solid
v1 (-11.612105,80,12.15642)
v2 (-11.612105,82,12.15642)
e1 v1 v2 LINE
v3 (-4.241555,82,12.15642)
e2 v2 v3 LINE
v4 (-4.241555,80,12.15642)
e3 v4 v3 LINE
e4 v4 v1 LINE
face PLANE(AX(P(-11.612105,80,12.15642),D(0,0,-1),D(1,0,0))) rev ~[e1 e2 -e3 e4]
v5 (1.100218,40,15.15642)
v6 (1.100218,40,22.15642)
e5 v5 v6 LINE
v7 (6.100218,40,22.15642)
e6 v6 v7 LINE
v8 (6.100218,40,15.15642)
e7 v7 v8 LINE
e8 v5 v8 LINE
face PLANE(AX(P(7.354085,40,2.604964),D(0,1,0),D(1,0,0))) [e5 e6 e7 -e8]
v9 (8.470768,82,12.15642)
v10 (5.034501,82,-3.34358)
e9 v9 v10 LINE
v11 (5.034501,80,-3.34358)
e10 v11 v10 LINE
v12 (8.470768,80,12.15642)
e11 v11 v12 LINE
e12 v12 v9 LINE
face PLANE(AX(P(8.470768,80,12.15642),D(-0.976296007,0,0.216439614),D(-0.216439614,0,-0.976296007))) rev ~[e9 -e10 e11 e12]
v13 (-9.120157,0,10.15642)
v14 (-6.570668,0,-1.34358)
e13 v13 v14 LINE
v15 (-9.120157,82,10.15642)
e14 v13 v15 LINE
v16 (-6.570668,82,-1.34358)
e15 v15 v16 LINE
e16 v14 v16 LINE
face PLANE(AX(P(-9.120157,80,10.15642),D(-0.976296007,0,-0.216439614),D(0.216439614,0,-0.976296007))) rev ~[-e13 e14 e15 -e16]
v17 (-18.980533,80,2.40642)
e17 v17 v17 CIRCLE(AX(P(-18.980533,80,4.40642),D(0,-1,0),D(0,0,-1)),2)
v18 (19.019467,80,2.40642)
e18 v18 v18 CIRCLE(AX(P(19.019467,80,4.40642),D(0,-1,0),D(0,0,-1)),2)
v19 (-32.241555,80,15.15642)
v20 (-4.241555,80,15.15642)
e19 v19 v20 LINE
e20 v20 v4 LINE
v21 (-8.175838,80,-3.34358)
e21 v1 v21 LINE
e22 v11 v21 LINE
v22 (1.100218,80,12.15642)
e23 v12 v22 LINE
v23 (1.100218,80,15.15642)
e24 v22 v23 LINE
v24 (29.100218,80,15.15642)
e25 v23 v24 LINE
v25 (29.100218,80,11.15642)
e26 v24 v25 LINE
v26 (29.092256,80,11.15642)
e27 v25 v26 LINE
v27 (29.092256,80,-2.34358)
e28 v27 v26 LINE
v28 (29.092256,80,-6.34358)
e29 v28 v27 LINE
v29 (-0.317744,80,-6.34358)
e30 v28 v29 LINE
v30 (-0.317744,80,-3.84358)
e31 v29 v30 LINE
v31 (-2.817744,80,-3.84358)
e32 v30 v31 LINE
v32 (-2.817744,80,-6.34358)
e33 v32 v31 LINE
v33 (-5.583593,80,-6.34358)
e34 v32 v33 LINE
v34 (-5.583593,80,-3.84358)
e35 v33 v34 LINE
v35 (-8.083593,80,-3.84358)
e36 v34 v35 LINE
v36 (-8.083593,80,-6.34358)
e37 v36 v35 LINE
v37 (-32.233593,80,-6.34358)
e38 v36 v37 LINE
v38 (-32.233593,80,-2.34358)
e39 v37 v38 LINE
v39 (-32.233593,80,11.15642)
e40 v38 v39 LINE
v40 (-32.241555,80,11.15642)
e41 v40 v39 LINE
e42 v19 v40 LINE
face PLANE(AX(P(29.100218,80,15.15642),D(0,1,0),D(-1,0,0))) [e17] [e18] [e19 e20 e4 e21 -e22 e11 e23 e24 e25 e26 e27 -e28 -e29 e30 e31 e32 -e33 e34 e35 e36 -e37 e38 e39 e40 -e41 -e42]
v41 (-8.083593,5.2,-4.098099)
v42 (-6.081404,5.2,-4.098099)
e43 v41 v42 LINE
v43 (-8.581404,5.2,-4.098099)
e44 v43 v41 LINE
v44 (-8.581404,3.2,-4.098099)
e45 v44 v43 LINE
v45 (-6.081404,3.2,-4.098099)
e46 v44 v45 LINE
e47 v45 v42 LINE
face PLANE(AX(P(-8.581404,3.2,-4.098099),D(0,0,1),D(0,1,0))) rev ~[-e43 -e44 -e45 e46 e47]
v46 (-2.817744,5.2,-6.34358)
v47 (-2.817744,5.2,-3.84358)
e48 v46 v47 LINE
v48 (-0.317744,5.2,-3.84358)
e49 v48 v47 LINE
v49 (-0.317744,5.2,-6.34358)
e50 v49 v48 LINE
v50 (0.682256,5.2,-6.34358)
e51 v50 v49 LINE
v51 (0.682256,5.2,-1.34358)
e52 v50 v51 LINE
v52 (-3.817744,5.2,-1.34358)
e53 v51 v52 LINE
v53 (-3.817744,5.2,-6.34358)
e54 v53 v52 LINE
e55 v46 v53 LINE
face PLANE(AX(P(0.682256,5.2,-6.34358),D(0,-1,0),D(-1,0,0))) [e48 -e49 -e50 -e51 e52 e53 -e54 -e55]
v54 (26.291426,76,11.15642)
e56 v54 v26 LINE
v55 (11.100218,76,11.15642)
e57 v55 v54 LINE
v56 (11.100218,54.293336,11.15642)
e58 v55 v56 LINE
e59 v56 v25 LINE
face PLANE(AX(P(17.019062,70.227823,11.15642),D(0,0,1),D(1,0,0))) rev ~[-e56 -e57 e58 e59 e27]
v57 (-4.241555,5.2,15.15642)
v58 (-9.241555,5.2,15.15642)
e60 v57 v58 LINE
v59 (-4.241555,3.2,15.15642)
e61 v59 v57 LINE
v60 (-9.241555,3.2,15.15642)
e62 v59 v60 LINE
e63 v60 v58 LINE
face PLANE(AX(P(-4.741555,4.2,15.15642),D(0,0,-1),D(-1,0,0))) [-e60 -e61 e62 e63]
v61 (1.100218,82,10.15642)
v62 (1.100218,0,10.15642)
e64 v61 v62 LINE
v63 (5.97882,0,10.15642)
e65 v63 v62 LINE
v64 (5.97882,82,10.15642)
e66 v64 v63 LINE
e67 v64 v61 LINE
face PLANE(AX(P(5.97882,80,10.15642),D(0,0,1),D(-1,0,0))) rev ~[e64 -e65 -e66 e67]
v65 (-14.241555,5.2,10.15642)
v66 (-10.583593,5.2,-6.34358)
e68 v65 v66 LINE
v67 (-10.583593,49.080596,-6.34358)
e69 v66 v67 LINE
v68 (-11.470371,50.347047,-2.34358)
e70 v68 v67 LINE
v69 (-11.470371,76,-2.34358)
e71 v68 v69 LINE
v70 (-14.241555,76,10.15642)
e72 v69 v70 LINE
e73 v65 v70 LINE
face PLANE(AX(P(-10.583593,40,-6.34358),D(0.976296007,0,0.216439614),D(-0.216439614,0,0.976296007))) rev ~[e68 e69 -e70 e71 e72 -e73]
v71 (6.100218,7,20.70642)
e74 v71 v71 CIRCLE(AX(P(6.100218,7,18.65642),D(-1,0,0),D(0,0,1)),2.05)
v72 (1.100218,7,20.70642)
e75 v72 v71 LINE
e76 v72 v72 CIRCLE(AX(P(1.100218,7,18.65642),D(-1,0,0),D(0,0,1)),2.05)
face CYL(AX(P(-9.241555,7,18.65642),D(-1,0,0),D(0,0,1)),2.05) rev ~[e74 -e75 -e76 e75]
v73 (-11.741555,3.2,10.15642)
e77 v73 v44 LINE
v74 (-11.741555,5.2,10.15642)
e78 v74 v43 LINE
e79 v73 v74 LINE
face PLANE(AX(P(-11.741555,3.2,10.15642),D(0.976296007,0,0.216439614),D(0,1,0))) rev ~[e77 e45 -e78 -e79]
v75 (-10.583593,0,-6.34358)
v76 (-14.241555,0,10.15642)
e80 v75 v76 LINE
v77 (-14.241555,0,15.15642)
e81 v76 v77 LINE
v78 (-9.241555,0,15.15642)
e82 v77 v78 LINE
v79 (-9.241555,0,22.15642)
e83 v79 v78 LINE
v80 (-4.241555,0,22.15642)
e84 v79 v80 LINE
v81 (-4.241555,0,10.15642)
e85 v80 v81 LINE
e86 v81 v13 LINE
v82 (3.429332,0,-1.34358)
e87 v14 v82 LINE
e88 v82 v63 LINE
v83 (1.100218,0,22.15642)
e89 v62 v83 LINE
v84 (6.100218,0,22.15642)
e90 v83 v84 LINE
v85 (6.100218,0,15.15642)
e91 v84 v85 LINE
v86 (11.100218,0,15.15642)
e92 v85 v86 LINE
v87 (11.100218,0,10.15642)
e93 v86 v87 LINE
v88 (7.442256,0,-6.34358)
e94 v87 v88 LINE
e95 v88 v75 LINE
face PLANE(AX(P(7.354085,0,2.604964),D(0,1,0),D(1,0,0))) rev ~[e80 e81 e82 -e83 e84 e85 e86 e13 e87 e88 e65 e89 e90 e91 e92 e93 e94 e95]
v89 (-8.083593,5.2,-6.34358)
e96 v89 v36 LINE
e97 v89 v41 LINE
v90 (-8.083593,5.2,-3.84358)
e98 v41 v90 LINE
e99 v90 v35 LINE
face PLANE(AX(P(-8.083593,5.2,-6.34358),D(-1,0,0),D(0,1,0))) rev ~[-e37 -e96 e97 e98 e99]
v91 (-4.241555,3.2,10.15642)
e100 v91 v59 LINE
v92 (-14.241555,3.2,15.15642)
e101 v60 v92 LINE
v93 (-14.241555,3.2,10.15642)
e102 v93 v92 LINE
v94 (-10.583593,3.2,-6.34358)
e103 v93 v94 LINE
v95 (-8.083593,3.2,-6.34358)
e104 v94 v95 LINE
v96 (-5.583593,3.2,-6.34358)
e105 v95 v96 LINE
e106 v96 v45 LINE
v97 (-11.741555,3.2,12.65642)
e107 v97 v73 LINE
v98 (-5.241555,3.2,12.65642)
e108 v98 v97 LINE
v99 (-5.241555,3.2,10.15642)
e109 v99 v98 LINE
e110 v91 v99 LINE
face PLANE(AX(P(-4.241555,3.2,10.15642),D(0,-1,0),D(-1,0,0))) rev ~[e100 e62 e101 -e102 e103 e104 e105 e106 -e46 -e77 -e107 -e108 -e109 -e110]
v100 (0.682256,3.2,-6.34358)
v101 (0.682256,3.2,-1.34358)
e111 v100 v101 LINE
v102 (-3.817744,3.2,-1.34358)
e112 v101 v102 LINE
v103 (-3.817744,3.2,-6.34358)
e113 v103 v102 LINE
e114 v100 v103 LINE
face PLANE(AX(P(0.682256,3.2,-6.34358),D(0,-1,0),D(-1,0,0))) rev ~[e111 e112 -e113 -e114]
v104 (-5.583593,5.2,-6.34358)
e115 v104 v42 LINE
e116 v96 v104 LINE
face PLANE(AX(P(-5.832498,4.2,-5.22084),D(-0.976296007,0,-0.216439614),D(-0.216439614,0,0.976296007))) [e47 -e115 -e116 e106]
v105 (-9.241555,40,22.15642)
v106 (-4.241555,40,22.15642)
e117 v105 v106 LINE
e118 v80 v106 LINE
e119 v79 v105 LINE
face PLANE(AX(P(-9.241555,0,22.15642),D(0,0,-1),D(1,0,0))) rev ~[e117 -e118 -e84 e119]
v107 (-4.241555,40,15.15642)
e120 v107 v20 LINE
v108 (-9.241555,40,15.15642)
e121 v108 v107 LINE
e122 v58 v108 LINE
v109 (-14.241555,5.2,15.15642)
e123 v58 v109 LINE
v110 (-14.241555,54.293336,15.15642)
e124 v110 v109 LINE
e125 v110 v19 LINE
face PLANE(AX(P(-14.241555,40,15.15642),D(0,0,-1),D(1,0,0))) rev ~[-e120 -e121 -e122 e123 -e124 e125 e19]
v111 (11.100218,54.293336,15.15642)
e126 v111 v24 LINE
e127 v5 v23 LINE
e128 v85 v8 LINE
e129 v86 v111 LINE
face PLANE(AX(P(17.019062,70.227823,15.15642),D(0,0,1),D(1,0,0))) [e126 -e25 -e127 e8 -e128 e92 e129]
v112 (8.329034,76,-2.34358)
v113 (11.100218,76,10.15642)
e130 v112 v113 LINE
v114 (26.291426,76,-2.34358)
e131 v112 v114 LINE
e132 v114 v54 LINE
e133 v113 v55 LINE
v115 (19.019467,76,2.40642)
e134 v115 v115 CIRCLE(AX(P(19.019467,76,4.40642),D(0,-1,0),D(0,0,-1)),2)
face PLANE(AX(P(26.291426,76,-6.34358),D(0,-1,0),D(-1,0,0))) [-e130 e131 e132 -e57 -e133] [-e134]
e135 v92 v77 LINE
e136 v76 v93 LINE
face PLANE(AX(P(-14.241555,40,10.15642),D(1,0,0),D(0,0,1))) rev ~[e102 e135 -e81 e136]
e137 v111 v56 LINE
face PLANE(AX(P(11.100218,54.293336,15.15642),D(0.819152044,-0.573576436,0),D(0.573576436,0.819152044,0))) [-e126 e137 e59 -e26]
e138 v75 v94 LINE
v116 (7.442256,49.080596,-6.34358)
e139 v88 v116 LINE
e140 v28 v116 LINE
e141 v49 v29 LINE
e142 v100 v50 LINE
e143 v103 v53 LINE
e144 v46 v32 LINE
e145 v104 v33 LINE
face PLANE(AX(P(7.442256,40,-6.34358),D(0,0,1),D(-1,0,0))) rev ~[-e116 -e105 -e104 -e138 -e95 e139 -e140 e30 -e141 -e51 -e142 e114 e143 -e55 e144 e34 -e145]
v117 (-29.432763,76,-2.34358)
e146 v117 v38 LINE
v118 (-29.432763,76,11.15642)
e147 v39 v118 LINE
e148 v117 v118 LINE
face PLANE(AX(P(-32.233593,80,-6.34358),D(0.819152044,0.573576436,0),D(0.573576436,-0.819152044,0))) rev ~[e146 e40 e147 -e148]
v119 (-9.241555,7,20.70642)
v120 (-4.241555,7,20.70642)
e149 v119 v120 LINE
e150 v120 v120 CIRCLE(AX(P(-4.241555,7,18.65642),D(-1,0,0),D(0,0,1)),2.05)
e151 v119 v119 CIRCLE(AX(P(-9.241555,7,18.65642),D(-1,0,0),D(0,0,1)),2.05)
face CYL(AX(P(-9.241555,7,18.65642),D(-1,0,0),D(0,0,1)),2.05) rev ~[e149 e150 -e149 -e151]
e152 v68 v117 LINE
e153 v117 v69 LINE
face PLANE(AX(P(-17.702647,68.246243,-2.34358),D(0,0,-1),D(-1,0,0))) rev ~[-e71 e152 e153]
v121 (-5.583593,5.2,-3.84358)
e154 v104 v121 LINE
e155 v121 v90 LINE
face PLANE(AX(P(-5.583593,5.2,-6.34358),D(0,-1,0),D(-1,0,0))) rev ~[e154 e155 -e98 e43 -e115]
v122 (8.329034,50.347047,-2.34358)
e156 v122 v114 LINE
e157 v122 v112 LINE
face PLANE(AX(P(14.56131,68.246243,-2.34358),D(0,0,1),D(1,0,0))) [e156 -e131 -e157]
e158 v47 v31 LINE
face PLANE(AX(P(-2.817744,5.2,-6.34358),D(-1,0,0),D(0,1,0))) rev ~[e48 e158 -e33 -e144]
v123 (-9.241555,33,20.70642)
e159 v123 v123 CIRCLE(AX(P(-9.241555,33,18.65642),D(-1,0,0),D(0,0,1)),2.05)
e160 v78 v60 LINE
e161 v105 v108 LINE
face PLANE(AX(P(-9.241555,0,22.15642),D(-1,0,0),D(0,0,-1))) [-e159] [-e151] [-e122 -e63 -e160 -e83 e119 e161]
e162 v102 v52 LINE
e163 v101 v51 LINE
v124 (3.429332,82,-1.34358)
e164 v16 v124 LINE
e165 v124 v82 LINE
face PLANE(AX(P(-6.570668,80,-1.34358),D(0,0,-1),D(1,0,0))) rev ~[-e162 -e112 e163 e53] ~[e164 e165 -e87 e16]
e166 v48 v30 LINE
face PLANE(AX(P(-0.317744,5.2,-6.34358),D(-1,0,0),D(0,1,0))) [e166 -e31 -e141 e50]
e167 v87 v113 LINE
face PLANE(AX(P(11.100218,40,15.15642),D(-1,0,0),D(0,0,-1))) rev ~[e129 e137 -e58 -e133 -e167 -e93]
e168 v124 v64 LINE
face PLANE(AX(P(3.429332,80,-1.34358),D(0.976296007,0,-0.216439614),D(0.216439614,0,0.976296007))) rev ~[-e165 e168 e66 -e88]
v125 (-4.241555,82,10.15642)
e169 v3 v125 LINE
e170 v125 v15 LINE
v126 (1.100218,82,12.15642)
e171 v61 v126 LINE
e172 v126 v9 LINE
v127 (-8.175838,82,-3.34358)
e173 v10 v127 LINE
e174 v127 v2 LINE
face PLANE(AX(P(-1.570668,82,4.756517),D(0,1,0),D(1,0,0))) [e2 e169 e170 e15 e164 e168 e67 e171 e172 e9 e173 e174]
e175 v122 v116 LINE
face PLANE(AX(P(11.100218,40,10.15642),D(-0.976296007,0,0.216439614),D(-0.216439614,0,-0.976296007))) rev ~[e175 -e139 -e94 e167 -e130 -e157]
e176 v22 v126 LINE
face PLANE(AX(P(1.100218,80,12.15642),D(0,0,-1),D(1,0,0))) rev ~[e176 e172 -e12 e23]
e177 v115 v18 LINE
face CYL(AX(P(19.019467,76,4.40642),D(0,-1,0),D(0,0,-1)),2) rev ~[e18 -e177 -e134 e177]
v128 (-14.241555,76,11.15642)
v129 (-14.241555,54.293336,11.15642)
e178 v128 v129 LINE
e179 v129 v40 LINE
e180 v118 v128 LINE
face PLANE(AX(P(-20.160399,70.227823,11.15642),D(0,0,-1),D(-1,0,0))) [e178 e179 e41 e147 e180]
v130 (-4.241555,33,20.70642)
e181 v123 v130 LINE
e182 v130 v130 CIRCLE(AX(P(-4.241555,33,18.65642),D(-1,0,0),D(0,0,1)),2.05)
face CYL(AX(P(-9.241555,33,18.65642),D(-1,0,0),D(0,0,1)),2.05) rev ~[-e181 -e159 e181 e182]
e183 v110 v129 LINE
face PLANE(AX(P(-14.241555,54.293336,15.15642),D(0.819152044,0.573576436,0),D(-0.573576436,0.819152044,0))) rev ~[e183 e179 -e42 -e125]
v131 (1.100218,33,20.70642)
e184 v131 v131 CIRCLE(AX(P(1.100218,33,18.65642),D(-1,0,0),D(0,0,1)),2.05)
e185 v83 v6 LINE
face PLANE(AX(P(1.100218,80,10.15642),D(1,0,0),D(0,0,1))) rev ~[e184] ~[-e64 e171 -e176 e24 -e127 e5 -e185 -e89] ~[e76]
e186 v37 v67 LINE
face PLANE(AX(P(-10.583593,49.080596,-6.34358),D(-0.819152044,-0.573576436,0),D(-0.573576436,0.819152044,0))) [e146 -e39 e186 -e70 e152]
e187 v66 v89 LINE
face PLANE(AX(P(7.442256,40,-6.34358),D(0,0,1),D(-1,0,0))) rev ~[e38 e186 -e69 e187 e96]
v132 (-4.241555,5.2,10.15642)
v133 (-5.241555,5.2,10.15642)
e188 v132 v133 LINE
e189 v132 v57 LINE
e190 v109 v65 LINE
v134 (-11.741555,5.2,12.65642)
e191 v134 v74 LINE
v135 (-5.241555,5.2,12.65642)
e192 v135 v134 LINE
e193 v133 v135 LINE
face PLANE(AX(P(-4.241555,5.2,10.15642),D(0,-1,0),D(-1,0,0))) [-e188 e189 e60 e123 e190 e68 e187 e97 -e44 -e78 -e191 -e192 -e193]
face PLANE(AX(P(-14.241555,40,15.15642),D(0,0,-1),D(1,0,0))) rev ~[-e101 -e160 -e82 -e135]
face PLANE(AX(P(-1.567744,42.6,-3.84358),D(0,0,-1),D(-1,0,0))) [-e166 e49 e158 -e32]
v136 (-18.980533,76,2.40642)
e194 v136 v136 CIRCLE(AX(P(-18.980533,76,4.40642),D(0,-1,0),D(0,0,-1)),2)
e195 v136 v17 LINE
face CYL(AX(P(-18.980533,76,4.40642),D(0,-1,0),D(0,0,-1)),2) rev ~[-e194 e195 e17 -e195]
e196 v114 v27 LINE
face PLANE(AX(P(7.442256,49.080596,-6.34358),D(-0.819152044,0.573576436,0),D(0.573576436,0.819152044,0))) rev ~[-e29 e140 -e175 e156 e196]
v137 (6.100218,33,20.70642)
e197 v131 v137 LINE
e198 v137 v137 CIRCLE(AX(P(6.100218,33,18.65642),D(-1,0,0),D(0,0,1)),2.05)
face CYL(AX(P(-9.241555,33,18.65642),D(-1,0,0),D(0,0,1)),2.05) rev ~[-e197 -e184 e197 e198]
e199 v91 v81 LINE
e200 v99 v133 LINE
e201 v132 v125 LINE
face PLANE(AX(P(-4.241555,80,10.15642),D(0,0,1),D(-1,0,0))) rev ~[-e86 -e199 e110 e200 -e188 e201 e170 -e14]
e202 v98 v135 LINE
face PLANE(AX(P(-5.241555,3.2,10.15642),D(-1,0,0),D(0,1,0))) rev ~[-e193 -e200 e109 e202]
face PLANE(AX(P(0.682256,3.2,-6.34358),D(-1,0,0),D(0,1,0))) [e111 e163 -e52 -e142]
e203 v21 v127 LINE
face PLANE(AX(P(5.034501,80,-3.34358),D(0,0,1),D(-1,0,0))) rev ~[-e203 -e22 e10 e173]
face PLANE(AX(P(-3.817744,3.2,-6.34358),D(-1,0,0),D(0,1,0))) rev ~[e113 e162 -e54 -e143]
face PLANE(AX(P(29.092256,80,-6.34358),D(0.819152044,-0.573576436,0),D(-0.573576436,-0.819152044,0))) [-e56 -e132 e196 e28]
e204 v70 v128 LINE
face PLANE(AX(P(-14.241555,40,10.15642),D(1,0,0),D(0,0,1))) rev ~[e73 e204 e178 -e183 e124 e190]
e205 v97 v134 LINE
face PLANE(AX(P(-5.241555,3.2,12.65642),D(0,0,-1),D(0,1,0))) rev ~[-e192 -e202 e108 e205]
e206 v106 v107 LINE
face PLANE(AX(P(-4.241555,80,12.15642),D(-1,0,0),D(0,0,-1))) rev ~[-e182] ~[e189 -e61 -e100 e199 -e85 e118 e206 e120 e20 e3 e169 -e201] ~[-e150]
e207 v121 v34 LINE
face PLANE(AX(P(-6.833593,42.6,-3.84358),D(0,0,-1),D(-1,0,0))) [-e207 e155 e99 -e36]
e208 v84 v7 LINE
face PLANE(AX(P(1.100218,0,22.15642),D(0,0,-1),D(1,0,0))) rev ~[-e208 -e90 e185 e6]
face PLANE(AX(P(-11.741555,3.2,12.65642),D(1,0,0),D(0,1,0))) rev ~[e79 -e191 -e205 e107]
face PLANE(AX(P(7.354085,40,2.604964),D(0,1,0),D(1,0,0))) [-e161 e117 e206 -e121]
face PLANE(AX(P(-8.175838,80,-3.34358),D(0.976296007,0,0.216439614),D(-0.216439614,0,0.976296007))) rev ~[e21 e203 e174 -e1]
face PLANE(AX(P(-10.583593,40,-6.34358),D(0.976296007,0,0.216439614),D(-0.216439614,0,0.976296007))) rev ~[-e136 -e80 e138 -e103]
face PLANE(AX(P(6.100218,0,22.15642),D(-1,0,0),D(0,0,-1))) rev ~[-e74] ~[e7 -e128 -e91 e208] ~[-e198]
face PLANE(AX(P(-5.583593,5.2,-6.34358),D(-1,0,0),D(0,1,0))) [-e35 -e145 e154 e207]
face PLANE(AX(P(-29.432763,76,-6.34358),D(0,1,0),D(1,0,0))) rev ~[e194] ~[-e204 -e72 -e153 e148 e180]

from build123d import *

# Parameters (mm, degrees)
SKETCH2_W           = 5
SKETCH2_H           = 7
BOSS_EXTRUDE1_DEPTH = 40
SKETCH3_R           = 2.05
CUT_EXTRUDE2_DEPTH  = 40
BOSS_EXTRUDE2_DEPTH = 40
SKETCH7_W           = 4.5
SKETCH7_H           = 2
CUT_EXTRUDE3_DEPTH  = 87.11081163
SKETCH8_W           = 1
SKETCH8_H           = 2
CUT_EXTRUDE4_DEPTH  = 5
BOSS_EXTRUDE3_DEPTH = 2
SKETCH10_W          = 2.5
SKETCH10_H          = 2
CUT_EXTRUDE5_DEPTH  = 11
BOSS_EXTRUDE4_DEPTH = 4
BOSS_EXTRUDE7_DEPTH = 4
BOSS_EXTRUDE8_DEPTH = 19
SKETCH17_R          = 2
CUT_EXTRUDE7_DEPTH  = 19
SKETCH18_W          = 2.5
SKETCH18_H          = 2
CUT_EXTRUDE8_DEPTH  = 2.5
SKETCH19_W          = 2.5
SKETCH19_H          = 2
CUT_EXTRUDE9_DEPTH  = 19.5
SKETCH20_W          = 2.3
SKETCH20_H          = 2
CUT_EXTRUDE10_DEPTH = 2.5
SKETCH21_W          = 2.5
SKETCH21_H          = 74.8
CUT_EXTRUDE11_DEPTH = 2.5


with BuildPart() as part:
    # Sketch2 → Boss-Extrude1 (new body)
    with BuildSketch(Plane(origin=(0, 0, 0), x_dir=(1, 0, 0), z_dir=(0, 1, 0))):
        Polygon((11.100217707, -10.156419986), (7.442255773, 6.343580014), (7.442255773, 1.343580014), (3.429331515, 1.343580014), (5.978820135, -10.156419986), align=None)
        Polygon((7.442255773, 6.343580014), (-10.583592744, 6.343580014), (-5.702112708, 5.261381945), (-6.570668485, 1.343580014), (3.429331515, 1.343580014), (2.560775738, 5.261381945), align=None)
        Polygon((-10.583592744, 1.343580014), (-10.583592744, 6.343580014), (-14.241554677, -10.156419986), (-9.120157106, -10.156419986), (-6.570668485, 1.343580014), align=None)
        Polygon((7.442255773, 1.343580014), (7.442255773, 6.343580014), (2.560775738, 5.261381945), (3.429331515, 1.343580014), align=None)
        Polygon((-5.702112708, 5.261381945), (-10.583592744, 6.343580014), (-10.583592744, 1.343580014), (-6.570668485, 1.343580014), align=None)
        Polygon((-9.360074642, -11.238618055), (-14.241554677, -10.156419986), (-14.241554677, -15.156419986), (-9.241554677, -15.156419986), (-4.241554677, -15.156419986), (-4.241554677, -10.156419986), (-9.120157106, -10.156419986), align=None)
        Polygon((-9.120157106, -10.156419986), (-14.241554677, -10.156419986), (-9.360074642, -11.238618055), align=None)
        Polygon((6.218737671, -11.238618055), (11.100217707, -10.156419986), (5.978820135, -10.156419986), align=None)
        Polygon((11.100217707, -15.156419986), (11.100217707, -10.156419986), (6.218737671, -11.238618055), (5.978820135, -10.156419986), (1.100217707, -10.156419986), (1.100217707, -15.156419986), (6.100217707, -15.156419986), align=None)
        with Locations((3.600217707, -18.656419986)):
            Rectangle(SKETCH2_W, SKETCH2_H)
        with Locations((-6.741554677, -18.656419986)):
            Rectangle(SKETCH2_W, SKETCH2_H)
    extrude(amount=BOSS_EXTRUDE1_DEPTH)

    # Sketch3 → Cut-Extrude2 (cut)
    with BuildSketch(Plane.ZY.offset(9.241554677)):
        with Locations((18.656419986, 33)):
            Circle(SKETCH3_R)
        with Locations((18.656419986, 7)):
            Circle(SKETCH3_R)
    extrude(amount=-CUT_EXTRUDE2_DEPTH, mode=Mode.SUBTRACT)

    # Sketch4 → Boss-Extrude2 (add)
    with BuildSketch(Plane(origin=(0, 40, 0), x_dir=(1, 0, 0), z_dir=(0, 1, 0))):
        Polygon((-4.241554677, -10.156419986), (-9.120157106, -10.156419986), (-6.570668485, 1.343580014), (3.429331515, 1.343580014), (5.978820135, -10.156419986), (1.100217707, -10.156419986), (1.100217707, -15.156419986), (6.100217707, -15.156419986), (11.100217707, -15.156419986), (11.100217707, -10.156419986), (7.442255773, 6.343580014), (-10.583592744, 6.343580014), (-14.241554677, -10.156419986), (-14.241554677, -15.156419986), (-9.241554677, -15.156419986), (-4.241554677, -15.156419986), align=None)
    extrude(amount=BOSS_EXTRUDE2_DEPTH)

    # Sketch7 → Cut-Extrude3 (cut, through all)
    with BuildSketch(Plane(origin=(0, 0, -6.343580014), x_dir=(-1, 0, 0), z_dir=(0, 0, -1))):
        with Locations((1.567744227, 4.2)):
            Rectangle(SKETCH7_W, SKETCH7_H)
    extrude(amount=-CUT_EXTRUDE3_DEPTH, mode=Mode.SUBTRACT)

    # Sketch8 → Cut-Extrude4 (cut)
    with BuildSketch(Plane(origin=(0, 0, 10.156419986), x_dir=(-1, 0, 0), z_dir=(0, 0, -1))):
        with Locations((4.741554677, 4.2)):
            Rectangle(SKETCH8_W, SKETCH8_H)
    extrude(amount=-CUT_EXTRUDE4_DEPTH, mode=Mode.SUBTRACT)

    # Sketch9 → Boss-Extrude3 (add)
    with BuildSketch(Plane(origin=(0, 80, 0), x_dir=(1, 0, 0), z_dir=(0, 1, 0))):
        Polygon((1.100217707, -10.156419986), (1.100217707, -12.156419986), (8.470768489, -12.156419986), (5.034501218, 3.343580014), (-8.175838189, 3.343580014), (-11.61210546, -12.156419986), (-4.241554677, -12.156419986), (-4.241554677, -10.156419986), (-9.120157106, -10.156419986), (-6.570668485, 1.343580014), (3.429331515, 1.343580014), (5.978820135, -10.156419986), align=None)
    extrude(amount=BOSS_EXTRUDE3_DEPTH)

    # Sketch10 → Cut-Extrude5 (cut)
    with BuildSketch(Plane(origin=(-5.241554677, 0, 0), x_dir=(0, 0, -1), z_dir=(1, 0, 0))):
        with Locations((-13.906419986, 4.2)):
            Rectangle(SKETCH10_W, SKETCH10_H)
    extrude(amount=-CUT_EXTRUDE5_DEPTH, mode=Mode.SUBTRACT)

    # Sketch11 → Boss-Extrude4 (add)
    with BuildSketch(Plane.XY.offset(15.156419986)):
        Polygon((11.100217707, 54.293335879), (29.100217707, 80), (11.100217707, 80), align=None)
        Polygon((-14.241554677, 54.293335879), (-32.241554677, 80), (-14.241554677, 80), align=None)
    extrude(amount=-BOSS_EXTRUDE4_DEPTH)

    # Sketch15 → Boss-Extrude7 (add)
    with BuildSketch(Plane(origin=(0, 0, -6.343580014), x_dir=(-1, 0, 0), z_dir=(0, 0, -1))):
        Polygon((-7.442255773, 80), (-7.442255773, 49.080595654), (-29.092255773, 80), align=None)
        Polygon((10.583592744, 80), (10.583592744, 49.080595654), (32.233592744, 80), align=None)
    extrude(amount=-BOSS_EXTRUDE7_DEPTH)

    # Sketch16 → Boss-Extrude8 (add)
    with BuildSketch(Plane(origin=(0, 0, -6.343580014), x_dir=(-1, 0, 0), z_dir=(0, 0, -1))):
        Polygon((32.233592744, 80), (29.432762591, 76), (10.233592744, 76), (10.233592744, 80), align=None)
        Polygon((-29.092255773, 80), (-26.29142562, 76), (-7.092255773, 76), (-7.092255773, 80), align=None)
    extrude(amount=-BOSS_EXTRUDE8_DEPTH)

    # Sketch17 → Cut-Extrude7 (cut)
    with BuildSketch(Plane(origin=(0, 76, 0), x_dir=(-1, 0, 0), z_dir=(0, -1, 0))):
        with Locations(Location((-19.01946661, -4.406419986, 0), (0, 0, 90))):
            Circle(SKETCH17_R)
        with Locations(Location((18.980533391, -4.406419986, 0), (0, 0, 90))):
            Circle(SKETCH17_R)
    extrude(amount=-CUT_EXTRUDE7_DEPTH, mode=Mode.SUBTRACT)

    # Sketch18 → Cut-Extrude8 (cut)
    with BuildSketch(Plane.XY.offset(12.656419986)):
        with Locations((-12.991554677, 4.2)):
            Rectangle(SKETCH18_W, SKETCH18_H)
    extrude(amount=-CUT_EXTRUDE8_DEPTH, mode=Mode.SUBTRACT)

    # Sketch19 → Cut-Extrude9 (cut, along a direction that is not the sketch's normal)
    with BuildSketch(Plane.XY.offset(10.156419986)):
        with Locations((-12.991554677, 4.2)):
            Rectangle(SKETCH19_W, SKETCH19_H)
    extrude(amount=-CUT_EXTRUDE9_DEPTH, dir=(-0.2164396139381068, 0, 0.9762960071199325), mode=Mode.SUBTRACT)

    # Sketch20 → Cut-Extrude10 (cut, along a direction that is not the sketch's normal)
    with BuildSketch(Plane(origin=(-9.045364277, 0, -2.005308982), x_dir=(-0.2164396139381068, 0, 0.9762960071199326), z_dir=(-0.9762960071199326, 0, -0.2164396139381068))):
        with Locations((-3.293602146, 4.2)):
            Rectangle(SKETCH20_W, SKETCH20_H)
    extrude(amount=-CUT_EXTRUDE10_DEPTH, dir=(-1, 0, 0), mode=Mode.SUBTRACT)

    # Sketch21 → Cut-Extrude11 (cut)
    with BuildSketch(Plane(origin=(0, 0, -6.343580014), x_dir=(-1, 0, 0), z_dir=(0, 0, -1))):
        with Locations((1.567744227, 42.6)):
            Rectangle(SKETCH21_W, SKETCH21_H)
        with Locations((6.833592744, 42.6)):
            Rectangle(SKETCH21_W, SKETCH21_H)
    extrude(amount=-CUT_EXTRUDE11_DEPTH, mode=Mode.SUBTRACT)


solid = part.part
